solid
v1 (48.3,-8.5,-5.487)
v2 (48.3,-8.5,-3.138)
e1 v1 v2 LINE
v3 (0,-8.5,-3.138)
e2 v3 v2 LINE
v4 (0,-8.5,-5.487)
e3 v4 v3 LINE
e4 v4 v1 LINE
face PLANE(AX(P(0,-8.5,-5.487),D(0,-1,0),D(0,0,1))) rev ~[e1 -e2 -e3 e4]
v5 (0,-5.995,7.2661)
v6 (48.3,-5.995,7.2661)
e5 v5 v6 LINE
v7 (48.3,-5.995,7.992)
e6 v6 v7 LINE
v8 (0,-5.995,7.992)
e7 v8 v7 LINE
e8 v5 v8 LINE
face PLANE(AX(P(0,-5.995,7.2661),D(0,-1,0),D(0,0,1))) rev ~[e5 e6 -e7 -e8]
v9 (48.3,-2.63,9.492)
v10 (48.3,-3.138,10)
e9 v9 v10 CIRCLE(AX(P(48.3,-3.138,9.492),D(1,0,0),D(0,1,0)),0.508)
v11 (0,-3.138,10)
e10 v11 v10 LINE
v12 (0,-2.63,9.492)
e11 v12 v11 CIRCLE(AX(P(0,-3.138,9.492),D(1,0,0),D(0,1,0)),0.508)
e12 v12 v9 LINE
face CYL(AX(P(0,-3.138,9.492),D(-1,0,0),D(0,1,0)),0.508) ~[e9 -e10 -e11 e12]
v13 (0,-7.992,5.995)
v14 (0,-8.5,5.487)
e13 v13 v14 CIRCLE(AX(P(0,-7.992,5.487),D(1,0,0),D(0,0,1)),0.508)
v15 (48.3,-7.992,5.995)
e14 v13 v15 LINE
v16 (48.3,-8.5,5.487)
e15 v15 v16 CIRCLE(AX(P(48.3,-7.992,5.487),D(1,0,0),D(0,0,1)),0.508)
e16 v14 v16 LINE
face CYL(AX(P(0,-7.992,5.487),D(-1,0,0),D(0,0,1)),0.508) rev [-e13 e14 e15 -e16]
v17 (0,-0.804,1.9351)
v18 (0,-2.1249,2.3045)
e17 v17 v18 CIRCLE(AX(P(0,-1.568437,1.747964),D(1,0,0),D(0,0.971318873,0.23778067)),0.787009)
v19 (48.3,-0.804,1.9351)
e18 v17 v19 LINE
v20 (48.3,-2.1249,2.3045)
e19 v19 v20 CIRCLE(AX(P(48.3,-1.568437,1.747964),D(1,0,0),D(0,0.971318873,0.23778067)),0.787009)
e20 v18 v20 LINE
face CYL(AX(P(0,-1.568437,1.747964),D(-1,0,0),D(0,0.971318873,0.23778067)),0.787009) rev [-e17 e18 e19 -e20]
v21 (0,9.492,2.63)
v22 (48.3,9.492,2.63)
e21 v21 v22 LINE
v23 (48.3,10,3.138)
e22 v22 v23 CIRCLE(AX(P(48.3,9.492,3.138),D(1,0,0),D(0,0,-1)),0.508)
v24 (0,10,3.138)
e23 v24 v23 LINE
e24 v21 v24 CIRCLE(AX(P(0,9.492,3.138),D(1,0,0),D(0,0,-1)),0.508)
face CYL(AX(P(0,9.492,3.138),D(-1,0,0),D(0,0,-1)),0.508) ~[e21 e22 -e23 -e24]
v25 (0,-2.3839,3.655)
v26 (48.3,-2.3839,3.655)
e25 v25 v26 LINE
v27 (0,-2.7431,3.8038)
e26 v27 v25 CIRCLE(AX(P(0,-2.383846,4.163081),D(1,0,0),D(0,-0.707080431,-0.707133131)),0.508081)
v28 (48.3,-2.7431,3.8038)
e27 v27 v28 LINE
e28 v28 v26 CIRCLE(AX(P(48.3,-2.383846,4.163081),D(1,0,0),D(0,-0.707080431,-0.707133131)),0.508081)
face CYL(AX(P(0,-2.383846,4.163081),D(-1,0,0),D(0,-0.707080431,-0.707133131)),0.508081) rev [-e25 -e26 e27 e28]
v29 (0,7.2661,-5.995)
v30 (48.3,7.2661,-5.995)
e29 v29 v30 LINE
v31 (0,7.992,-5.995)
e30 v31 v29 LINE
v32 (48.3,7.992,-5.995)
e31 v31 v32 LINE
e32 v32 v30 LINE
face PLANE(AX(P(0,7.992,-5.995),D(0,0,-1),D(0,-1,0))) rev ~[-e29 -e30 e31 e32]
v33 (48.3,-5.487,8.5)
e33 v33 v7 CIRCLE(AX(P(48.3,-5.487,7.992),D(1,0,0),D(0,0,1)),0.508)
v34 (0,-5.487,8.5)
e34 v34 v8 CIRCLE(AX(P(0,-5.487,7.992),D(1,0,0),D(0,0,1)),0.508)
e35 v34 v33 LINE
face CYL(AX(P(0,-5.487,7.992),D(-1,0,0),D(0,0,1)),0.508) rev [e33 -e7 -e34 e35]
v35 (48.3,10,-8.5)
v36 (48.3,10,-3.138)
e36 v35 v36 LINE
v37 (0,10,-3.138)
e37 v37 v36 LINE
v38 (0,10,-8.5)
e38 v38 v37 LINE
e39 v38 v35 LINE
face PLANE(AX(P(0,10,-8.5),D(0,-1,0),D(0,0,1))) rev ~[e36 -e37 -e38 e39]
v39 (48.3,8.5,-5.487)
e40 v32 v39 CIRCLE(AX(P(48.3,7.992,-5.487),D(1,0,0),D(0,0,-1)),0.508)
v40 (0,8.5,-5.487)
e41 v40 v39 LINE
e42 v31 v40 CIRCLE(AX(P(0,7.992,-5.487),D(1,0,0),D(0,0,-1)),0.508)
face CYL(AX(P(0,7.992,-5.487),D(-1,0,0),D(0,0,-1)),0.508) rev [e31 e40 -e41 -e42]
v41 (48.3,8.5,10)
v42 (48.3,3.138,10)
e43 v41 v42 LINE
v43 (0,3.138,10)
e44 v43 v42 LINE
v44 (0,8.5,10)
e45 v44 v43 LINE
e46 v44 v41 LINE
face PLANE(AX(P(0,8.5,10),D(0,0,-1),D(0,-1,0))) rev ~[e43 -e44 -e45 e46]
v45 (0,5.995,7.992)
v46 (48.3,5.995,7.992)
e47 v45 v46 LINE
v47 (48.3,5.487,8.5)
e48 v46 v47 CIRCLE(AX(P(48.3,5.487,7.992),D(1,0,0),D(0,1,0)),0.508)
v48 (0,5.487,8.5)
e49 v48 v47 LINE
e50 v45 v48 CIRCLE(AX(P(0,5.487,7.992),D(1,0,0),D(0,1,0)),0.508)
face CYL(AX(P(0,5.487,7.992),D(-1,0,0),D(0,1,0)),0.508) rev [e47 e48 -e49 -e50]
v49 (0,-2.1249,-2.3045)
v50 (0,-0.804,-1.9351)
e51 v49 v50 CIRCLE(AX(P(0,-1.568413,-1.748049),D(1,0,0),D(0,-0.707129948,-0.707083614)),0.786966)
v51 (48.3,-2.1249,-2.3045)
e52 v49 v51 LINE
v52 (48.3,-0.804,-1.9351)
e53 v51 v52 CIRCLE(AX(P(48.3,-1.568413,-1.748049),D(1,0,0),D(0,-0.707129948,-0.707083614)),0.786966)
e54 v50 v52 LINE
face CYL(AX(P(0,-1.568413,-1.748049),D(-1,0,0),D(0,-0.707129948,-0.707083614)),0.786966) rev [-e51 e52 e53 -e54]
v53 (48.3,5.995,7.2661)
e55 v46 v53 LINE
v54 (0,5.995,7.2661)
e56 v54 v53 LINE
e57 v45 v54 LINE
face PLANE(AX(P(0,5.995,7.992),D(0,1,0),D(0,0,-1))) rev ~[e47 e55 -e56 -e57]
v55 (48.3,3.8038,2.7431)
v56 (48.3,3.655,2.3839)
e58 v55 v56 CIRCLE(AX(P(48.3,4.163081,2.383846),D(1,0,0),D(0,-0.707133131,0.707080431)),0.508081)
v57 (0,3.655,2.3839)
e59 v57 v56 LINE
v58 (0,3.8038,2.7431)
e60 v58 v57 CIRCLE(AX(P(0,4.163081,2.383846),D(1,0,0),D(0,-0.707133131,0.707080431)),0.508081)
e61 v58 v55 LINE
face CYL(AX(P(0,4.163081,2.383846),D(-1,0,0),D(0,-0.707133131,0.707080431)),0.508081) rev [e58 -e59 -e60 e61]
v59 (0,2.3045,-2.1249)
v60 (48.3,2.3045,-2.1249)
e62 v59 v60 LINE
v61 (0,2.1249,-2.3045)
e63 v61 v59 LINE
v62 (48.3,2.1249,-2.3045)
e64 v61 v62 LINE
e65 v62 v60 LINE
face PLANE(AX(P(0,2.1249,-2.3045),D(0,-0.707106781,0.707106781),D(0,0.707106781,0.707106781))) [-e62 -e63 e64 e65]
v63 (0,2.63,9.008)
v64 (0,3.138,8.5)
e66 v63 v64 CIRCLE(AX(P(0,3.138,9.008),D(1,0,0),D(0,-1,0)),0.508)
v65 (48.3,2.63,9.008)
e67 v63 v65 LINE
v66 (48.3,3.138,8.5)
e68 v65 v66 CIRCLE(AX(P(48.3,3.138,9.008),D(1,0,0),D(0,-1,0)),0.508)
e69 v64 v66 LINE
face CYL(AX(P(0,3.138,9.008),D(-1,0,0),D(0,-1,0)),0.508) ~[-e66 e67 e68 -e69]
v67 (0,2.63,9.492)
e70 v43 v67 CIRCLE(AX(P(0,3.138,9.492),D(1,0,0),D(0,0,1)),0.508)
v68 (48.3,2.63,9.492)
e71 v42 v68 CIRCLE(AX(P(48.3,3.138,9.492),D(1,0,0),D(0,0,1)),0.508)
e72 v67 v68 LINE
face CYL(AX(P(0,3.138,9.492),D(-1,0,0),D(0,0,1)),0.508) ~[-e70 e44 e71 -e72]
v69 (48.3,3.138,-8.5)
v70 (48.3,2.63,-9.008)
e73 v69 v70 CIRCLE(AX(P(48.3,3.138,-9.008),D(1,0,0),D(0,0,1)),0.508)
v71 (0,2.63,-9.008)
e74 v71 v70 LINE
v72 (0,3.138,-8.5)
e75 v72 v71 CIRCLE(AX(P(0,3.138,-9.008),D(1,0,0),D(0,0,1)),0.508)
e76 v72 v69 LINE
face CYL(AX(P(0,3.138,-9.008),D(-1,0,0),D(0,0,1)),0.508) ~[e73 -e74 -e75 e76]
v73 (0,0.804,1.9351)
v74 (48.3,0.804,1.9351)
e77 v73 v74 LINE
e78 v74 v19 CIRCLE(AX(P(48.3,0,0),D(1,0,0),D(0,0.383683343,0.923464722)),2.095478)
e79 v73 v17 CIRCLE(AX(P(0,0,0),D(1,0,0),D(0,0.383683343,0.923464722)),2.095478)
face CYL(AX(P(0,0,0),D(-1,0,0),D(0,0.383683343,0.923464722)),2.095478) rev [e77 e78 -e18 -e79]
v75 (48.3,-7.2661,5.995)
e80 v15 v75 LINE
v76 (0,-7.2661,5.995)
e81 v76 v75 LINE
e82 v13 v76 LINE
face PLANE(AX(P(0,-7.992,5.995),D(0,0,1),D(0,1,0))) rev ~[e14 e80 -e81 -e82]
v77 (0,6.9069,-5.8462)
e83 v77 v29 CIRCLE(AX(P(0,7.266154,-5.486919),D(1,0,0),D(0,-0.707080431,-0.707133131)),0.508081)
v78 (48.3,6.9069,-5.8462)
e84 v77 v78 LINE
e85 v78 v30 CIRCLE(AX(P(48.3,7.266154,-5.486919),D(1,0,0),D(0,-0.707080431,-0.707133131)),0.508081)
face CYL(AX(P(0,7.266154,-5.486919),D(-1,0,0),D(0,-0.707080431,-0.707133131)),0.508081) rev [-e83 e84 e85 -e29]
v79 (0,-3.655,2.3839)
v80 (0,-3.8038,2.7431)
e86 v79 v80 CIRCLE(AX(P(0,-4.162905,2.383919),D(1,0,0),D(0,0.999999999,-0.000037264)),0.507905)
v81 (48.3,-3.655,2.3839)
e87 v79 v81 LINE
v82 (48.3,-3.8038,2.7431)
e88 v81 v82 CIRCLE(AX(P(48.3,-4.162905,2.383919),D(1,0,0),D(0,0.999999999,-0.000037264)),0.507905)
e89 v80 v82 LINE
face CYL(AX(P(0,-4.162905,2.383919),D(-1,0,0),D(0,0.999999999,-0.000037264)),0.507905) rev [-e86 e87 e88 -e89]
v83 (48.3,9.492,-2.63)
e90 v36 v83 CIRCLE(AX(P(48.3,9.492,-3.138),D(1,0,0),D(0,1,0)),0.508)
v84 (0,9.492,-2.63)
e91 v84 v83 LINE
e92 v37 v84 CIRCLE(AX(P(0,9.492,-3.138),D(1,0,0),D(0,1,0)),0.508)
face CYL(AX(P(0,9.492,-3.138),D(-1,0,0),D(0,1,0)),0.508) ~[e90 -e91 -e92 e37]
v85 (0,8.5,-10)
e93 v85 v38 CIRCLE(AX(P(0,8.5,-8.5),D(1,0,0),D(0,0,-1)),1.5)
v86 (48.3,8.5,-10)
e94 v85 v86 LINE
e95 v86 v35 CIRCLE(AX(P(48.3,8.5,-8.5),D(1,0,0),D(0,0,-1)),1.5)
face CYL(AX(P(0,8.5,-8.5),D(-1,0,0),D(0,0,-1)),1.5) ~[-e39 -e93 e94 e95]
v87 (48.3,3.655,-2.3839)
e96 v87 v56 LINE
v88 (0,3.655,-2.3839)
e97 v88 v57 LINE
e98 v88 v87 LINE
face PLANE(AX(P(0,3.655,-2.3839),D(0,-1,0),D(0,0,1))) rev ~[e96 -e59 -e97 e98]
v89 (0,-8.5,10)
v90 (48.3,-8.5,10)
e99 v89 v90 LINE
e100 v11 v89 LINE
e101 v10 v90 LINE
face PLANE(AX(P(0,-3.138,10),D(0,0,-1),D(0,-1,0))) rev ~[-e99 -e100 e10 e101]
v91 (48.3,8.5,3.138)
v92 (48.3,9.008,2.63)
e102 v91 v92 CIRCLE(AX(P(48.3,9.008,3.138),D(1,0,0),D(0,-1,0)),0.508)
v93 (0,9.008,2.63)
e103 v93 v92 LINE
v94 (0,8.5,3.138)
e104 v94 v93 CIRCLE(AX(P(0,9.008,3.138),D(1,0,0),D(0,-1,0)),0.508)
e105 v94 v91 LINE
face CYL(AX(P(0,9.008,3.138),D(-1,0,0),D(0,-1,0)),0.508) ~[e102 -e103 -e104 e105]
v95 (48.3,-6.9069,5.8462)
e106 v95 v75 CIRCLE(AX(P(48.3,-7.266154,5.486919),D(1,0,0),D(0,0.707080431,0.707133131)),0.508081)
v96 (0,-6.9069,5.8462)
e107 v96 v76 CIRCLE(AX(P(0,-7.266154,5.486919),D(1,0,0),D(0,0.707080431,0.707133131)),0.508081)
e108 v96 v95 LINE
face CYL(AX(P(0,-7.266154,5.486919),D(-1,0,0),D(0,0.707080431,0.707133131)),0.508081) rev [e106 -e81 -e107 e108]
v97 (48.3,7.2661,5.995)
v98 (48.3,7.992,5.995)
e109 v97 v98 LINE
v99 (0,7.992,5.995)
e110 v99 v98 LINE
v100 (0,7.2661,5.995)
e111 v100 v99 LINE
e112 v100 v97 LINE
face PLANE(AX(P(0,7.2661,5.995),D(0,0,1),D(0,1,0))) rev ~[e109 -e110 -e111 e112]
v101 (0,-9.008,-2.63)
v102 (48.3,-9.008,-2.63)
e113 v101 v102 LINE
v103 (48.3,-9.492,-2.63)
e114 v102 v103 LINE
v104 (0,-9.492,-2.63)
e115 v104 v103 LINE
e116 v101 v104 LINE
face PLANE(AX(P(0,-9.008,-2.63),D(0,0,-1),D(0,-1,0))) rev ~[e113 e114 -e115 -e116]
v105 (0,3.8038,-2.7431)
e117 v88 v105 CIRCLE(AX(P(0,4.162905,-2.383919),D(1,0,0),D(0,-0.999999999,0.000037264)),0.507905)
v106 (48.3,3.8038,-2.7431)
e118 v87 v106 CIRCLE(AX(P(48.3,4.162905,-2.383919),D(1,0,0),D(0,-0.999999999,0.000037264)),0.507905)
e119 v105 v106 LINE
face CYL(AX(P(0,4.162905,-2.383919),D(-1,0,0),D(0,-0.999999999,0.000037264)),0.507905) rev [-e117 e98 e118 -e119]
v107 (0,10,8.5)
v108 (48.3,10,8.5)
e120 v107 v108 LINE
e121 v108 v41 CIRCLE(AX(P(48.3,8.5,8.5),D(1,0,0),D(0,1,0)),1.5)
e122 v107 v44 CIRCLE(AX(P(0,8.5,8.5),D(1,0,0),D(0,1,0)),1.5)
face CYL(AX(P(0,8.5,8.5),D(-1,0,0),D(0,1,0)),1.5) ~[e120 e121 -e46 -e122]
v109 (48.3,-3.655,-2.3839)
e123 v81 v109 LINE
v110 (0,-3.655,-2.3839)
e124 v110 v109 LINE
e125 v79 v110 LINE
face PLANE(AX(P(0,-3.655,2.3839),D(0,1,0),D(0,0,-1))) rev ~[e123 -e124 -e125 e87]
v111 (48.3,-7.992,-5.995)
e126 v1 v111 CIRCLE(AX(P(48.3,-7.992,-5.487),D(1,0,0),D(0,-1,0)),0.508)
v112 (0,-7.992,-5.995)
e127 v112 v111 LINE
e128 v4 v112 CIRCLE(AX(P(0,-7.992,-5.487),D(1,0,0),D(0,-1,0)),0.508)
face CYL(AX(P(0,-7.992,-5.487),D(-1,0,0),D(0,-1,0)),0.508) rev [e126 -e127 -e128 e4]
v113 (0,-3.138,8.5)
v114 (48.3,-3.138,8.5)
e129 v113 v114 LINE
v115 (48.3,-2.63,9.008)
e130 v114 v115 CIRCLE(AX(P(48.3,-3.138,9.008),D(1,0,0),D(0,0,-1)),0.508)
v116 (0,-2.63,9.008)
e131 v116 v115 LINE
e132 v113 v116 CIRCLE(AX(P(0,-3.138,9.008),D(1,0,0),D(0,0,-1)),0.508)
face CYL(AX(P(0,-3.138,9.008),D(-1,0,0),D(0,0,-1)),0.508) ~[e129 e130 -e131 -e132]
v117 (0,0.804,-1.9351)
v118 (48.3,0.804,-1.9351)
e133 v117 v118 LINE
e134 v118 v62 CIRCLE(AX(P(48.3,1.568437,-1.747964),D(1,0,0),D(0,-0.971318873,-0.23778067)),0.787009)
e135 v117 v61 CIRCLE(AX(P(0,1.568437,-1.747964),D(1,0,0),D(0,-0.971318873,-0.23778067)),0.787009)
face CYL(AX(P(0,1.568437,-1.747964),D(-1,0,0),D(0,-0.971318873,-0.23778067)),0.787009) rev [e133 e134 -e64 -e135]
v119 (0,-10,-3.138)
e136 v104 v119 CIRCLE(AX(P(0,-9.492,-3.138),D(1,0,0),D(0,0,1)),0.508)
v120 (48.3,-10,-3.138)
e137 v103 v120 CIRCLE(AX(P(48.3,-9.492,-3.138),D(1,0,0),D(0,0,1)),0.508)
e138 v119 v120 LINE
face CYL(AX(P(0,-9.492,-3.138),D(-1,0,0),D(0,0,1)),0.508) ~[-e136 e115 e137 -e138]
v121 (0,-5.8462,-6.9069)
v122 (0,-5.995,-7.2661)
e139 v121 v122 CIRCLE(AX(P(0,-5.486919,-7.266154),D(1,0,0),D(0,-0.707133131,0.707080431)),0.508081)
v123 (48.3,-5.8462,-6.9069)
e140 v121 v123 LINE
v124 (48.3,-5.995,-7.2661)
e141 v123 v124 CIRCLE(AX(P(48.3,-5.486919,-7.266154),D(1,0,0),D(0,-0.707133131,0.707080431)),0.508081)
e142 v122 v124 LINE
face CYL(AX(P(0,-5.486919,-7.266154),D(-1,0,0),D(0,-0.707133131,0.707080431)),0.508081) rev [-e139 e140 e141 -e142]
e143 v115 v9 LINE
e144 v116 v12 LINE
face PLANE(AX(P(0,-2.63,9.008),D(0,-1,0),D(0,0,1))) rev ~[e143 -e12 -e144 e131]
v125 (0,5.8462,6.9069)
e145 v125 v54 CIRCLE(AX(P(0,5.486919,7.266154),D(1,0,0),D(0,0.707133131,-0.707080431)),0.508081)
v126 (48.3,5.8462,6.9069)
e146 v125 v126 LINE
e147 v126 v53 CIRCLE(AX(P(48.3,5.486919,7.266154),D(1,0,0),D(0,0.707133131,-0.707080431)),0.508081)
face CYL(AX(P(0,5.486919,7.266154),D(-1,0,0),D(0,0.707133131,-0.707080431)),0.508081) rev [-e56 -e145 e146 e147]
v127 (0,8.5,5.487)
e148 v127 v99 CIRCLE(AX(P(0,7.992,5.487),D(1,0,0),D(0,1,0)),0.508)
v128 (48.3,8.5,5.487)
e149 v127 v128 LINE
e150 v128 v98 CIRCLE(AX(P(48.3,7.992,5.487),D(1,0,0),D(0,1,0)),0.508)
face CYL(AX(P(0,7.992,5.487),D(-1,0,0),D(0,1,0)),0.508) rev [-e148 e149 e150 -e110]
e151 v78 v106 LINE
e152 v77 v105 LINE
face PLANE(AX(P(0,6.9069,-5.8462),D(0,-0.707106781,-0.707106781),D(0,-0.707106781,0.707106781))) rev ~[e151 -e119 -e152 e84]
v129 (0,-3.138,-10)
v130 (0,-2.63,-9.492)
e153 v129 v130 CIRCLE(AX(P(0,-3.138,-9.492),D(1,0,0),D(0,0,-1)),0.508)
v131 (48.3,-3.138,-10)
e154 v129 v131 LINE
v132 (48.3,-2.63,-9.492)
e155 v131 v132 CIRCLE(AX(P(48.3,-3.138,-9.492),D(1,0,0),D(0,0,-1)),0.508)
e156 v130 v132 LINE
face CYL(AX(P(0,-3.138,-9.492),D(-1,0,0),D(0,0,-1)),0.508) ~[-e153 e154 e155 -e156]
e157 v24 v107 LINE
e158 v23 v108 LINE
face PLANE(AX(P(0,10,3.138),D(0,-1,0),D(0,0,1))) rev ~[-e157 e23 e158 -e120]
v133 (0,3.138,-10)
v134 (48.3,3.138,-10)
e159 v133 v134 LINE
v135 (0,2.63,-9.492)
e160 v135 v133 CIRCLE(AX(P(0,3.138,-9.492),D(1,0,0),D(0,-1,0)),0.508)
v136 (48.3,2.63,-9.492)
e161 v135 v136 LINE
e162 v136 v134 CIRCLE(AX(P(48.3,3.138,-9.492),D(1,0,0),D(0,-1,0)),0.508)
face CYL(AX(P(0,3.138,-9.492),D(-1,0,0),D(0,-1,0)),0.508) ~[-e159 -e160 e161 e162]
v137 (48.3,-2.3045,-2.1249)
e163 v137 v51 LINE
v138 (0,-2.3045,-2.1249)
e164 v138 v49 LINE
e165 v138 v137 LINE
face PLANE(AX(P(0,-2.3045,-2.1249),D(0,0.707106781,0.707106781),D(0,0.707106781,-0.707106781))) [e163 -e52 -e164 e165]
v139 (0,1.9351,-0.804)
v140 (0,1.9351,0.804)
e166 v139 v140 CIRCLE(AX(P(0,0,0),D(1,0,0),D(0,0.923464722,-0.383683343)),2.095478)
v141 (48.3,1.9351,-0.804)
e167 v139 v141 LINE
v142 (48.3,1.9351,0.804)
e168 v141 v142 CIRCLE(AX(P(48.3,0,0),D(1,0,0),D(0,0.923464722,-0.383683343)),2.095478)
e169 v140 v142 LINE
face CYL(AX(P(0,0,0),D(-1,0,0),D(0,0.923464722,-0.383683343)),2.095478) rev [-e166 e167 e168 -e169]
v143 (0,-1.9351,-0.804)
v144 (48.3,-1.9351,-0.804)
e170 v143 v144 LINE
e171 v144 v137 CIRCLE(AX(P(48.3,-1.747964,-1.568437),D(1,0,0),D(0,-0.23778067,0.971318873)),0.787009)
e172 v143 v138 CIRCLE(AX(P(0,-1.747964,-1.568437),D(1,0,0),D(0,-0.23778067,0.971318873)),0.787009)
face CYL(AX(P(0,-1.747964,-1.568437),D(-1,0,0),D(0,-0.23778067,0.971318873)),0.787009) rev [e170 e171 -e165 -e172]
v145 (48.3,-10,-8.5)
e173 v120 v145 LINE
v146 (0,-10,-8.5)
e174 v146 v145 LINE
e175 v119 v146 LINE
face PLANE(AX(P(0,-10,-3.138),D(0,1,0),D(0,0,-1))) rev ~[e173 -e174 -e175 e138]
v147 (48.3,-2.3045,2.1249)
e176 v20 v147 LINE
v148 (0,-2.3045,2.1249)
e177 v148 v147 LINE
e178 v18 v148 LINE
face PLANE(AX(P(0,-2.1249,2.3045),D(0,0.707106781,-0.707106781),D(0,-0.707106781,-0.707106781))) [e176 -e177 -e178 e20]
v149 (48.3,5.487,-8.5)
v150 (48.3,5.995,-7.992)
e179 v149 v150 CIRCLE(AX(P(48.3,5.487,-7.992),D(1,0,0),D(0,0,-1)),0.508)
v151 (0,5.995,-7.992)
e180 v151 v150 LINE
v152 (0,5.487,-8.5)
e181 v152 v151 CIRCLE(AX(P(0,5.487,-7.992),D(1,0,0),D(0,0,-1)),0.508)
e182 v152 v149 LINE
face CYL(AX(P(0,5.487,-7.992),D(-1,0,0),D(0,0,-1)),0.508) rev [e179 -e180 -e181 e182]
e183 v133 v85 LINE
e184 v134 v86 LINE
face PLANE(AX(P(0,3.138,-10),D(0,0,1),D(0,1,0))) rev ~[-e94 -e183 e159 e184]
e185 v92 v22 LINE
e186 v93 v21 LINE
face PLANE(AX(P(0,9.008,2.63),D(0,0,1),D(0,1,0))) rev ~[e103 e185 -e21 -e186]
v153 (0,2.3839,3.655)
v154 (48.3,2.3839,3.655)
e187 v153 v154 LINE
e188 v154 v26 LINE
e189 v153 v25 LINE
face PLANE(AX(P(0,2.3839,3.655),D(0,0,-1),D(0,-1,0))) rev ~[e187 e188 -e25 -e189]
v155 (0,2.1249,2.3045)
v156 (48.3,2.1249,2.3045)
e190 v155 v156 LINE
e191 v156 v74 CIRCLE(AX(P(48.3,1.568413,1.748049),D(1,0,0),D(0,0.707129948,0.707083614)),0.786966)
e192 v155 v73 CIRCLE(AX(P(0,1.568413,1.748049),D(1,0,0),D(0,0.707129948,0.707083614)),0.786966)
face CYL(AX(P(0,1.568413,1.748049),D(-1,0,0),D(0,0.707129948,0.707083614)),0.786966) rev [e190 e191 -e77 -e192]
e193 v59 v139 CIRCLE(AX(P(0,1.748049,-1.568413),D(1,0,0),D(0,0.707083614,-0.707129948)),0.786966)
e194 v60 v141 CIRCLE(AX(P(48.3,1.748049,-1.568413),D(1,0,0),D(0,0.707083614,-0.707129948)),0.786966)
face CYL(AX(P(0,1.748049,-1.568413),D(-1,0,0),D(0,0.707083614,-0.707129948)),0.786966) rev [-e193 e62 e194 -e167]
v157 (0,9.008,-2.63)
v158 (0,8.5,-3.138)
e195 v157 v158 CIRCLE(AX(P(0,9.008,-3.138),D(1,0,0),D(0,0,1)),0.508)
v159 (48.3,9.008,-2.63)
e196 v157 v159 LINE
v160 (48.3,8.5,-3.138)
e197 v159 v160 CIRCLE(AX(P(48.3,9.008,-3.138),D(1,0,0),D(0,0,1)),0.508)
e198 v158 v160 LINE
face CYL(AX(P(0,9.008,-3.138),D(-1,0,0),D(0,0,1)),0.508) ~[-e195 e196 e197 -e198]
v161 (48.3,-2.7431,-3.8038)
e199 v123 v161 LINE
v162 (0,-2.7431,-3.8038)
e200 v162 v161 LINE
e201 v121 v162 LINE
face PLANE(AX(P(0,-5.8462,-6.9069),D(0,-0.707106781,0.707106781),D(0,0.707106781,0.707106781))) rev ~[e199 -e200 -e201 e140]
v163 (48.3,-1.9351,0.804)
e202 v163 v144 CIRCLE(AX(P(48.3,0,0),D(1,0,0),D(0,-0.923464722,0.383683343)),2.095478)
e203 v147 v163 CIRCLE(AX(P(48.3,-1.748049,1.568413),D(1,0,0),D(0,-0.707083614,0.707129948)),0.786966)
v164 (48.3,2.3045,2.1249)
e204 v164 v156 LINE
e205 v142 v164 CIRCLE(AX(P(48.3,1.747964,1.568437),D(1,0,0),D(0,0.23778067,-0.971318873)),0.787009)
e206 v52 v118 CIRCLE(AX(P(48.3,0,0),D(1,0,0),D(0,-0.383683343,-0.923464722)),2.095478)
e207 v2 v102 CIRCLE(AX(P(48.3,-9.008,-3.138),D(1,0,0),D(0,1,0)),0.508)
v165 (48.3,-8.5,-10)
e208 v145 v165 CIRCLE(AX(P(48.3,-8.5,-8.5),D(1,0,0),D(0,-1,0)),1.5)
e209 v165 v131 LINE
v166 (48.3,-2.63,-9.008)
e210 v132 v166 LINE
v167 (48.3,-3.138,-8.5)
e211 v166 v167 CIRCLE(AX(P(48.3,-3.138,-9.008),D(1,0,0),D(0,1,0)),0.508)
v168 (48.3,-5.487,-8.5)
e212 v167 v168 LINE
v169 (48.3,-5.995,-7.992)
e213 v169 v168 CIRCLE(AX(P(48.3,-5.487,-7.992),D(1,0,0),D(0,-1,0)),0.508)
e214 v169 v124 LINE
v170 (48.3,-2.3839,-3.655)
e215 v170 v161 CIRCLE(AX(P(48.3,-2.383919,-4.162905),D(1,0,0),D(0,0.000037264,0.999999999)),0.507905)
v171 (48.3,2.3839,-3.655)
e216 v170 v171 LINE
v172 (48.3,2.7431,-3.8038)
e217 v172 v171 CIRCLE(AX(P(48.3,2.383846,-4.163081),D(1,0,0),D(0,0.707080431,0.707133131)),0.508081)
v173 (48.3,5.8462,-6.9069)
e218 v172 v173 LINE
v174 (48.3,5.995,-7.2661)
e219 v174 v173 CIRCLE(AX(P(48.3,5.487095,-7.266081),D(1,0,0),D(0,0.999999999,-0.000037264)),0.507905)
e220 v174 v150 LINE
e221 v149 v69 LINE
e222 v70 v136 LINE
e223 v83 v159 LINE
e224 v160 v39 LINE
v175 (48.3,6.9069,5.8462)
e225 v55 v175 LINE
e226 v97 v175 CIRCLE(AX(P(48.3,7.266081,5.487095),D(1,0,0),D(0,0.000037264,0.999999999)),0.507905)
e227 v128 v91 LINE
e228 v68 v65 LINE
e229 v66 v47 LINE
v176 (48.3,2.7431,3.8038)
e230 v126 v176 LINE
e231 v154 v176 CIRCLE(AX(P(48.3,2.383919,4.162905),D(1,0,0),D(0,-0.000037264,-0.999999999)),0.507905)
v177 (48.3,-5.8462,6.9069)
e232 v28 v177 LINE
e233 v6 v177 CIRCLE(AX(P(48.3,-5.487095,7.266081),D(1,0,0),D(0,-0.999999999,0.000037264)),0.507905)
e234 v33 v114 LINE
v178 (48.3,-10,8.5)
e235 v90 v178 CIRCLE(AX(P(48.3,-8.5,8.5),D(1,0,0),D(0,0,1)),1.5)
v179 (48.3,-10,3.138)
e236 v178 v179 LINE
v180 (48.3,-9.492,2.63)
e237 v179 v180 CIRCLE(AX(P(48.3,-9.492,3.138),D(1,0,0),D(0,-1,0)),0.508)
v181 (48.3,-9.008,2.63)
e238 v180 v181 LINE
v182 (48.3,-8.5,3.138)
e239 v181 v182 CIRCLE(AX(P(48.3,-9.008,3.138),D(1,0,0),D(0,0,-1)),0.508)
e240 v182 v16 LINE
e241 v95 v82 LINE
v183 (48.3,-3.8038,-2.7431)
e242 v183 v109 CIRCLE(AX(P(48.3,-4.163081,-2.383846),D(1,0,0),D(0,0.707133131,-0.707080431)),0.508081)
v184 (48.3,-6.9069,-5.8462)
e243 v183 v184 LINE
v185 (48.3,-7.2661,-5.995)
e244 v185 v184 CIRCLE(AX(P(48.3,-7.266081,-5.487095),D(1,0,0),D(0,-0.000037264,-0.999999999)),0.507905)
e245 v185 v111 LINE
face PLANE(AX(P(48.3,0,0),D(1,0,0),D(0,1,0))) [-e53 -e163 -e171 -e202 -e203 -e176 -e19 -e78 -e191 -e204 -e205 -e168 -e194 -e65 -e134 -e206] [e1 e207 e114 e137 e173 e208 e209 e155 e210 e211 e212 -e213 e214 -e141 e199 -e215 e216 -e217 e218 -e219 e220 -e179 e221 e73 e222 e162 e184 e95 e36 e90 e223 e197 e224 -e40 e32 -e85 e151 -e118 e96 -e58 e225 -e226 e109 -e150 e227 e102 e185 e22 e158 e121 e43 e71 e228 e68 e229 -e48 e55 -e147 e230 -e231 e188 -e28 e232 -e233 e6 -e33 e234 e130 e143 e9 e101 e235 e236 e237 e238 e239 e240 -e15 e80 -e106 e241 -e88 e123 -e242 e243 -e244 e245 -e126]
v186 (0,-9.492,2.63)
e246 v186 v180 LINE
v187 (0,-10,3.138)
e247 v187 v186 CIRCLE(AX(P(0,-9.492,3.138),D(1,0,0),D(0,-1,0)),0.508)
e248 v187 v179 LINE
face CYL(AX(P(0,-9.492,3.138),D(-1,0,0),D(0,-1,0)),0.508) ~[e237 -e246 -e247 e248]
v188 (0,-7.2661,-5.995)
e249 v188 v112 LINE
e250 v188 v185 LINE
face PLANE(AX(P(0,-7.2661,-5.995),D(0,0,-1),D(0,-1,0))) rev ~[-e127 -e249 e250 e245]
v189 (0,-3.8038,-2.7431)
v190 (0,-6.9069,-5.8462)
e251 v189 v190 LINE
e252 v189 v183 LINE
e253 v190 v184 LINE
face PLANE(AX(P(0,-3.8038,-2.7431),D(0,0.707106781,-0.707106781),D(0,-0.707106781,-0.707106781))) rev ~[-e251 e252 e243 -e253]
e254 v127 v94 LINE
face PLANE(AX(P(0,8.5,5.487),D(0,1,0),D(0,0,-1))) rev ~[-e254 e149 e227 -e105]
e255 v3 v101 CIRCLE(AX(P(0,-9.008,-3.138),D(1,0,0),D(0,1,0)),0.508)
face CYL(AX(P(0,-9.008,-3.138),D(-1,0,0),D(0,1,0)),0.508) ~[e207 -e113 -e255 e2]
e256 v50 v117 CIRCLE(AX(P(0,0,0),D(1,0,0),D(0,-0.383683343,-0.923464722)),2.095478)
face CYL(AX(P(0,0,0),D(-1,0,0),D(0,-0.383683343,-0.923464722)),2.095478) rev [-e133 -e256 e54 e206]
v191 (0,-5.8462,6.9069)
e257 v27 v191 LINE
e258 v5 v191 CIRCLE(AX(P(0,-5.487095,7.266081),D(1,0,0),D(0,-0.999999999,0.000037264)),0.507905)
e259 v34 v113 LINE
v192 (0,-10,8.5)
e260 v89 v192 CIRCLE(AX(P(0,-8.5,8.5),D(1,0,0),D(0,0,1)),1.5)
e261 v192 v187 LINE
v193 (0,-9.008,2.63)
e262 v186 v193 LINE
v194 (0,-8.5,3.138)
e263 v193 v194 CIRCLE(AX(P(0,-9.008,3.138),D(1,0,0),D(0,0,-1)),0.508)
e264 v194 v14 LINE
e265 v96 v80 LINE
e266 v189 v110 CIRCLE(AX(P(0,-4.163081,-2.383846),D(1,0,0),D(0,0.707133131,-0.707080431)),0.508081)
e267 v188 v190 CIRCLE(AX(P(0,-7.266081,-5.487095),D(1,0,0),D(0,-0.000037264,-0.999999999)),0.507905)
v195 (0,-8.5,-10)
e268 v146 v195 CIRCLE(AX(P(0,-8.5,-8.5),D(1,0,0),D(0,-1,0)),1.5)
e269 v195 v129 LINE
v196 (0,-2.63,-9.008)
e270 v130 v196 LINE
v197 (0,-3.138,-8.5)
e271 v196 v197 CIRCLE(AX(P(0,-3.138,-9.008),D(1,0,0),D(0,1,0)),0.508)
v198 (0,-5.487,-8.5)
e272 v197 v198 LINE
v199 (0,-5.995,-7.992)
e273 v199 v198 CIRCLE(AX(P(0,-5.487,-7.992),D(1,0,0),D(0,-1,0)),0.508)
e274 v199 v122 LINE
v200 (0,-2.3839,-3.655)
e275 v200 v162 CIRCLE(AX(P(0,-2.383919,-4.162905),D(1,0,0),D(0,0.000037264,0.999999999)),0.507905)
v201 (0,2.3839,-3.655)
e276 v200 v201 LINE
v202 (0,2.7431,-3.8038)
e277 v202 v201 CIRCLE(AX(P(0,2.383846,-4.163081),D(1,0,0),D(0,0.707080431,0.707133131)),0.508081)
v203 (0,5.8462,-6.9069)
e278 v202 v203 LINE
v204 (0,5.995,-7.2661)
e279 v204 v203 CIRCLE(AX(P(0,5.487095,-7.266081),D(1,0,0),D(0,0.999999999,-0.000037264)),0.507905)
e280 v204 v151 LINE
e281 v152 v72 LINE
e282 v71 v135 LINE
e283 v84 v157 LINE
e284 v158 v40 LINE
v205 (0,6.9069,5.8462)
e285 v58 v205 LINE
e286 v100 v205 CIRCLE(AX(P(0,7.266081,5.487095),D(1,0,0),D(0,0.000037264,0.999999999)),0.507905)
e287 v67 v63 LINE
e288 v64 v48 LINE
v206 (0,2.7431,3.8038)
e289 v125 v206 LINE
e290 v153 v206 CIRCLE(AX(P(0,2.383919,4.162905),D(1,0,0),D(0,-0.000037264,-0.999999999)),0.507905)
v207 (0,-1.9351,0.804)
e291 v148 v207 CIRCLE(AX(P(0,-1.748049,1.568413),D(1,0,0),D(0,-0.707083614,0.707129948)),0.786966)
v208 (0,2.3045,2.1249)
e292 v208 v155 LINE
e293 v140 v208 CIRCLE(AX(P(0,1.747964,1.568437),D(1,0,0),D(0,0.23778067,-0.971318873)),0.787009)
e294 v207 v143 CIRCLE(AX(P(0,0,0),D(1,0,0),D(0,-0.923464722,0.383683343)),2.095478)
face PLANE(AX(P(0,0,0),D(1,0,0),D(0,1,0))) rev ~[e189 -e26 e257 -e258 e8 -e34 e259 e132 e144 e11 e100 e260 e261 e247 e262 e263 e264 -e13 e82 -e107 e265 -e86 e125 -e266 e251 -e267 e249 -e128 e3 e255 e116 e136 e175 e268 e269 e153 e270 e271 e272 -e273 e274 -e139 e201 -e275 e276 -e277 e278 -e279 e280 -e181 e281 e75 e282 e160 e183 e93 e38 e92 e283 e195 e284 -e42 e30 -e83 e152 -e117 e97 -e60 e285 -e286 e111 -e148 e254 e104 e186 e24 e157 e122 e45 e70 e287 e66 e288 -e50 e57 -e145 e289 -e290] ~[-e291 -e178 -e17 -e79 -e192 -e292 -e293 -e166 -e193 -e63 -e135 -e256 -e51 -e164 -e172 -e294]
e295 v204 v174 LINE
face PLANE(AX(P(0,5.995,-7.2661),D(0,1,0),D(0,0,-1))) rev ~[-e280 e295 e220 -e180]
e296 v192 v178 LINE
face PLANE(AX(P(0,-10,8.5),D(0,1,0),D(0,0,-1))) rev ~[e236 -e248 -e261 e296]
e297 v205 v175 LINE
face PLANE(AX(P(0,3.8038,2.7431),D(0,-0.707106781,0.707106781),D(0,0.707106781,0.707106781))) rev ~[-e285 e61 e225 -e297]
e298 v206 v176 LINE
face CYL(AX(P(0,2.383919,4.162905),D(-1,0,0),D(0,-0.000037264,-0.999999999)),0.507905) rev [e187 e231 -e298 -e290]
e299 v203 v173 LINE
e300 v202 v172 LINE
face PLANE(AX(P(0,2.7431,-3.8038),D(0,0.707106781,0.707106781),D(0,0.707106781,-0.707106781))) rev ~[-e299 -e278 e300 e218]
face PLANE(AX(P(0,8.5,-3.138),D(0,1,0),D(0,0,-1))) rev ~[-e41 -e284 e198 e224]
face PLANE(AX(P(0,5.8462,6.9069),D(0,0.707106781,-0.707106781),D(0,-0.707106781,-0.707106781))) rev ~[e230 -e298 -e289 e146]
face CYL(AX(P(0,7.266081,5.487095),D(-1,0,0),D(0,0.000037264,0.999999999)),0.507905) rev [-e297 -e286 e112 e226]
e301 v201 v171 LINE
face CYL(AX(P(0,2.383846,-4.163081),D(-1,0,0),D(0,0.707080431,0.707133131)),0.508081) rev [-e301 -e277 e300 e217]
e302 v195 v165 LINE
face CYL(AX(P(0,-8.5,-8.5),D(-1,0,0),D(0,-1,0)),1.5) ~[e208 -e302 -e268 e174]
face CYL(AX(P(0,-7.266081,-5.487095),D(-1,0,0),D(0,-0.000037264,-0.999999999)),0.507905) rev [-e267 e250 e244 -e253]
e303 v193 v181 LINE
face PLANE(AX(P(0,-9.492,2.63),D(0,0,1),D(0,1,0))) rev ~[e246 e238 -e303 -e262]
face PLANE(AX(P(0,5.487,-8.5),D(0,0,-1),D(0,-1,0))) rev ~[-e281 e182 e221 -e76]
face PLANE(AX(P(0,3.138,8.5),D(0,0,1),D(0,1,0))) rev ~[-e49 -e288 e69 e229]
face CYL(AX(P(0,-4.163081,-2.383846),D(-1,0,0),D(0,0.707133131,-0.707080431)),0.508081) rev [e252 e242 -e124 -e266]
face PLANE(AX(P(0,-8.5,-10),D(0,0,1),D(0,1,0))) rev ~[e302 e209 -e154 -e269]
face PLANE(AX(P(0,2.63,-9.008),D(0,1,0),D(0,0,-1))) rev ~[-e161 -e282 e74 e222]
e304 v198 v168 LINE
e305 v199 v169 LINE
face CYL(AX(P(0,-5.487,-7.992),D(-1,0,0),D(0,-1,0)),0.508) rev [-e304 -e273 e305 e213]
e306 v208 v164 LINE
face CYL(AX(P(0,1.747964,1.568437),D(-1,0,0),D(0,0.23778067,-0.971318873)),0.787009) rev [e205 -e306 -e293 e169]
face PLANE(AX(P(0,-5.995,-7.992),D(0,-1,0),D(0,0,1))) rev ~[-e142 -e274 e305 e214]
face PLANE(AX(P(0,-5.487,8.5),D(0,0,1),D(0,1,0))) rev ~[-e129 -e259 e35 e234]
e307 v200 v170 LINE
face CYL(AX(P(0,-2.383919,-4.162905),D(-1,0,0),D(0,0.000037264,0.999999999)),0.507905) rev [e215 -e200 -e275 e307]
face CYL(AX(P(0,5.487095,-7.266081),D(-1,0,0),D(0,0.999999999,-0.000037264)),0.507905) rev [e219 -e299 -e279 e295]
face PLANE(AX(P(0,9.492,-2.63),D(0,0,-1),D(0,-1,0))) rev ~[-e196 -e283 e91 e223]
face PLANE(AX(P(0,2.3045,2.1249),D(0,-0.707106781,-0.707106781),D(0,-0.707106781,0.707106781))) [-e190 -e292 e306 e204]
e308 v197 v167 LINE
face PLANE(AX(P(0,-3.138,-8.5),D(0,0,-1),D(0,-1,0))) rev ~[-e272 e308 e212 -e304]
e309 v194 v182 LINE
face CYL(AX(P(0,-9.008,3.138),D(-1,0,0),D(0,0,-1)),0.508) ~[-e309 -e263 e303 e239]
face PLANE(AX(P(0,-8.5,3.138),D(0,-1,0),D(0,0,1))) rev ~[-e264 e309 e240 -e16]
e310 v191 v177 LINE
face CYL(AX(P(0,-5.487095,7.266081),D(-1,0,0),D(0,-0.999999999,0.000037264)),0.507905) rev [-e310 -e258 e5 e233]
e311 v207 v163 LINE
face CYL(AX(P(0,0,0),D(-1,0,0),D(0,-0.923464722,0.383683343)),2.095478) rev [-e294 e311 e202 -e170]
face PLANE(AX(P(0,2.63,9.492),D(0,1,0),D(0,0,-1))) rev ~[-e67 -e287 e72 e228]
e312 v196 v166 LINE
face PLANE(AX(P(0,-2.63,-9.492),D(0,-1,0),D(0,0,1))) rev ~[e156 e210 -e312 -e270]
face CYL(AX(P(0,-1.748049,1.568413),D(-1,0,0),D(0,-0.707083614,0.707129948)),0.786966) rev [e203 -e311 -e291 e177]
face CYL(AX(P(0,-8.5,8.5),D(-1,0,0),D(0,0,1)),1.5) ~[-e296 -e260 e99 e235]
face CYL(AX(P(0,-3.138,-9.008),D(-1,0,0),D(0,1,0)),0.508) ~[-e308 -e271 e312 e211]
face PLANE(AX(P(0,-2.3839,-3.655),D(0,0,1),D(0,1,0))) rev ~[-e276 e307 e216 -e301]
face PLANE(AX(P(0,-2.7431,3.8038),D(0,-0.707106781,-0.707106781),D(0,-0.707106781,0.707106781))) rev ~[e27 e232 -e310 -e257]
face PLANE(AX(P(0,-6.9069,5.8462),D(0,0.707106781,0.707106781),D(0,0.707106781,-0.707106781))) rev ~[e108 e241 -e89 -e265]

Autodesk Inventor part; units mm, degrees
ref_plane "YZ Plane" through (0, 0, 0) normal (1, 0, 0) x (0, 1, 0)
ref_plane "XZ Plane" through (0, 0, 0) normal (0, 1, 0) x (-1, 0, 0)
ref_plane "XY Plane" through (0, 0, 0) normal (0, 0, 1) x (1, 0, 0)
sketch "Sketch1" plane through (0, 0, 0) normal (1, 0, 0) x (0, 1, 0)
  arc A0 (0.804, -1.9351) -> (2.1249, -2.3045) centre (1.5684, -1.748) ccw
  line L0 (2.1249, -2.3045) -> (2.3045, -2.1249)
  arc A1 (2.3045, -2.1249) -> (1.9351, -0.804) centre (1.748, -1.5684) ccw
  arc A2 (1.9351, -0.804) -> (1.9351, 0.804) centre (0, 0) ccw
  arc A3 (1.9351, 0.804) -> (2.3045, 2.1249) centre (1.748, 1.5684) ccw
  line L1 (2.3045, 2.1249) -> (2.1249, 2.3045)
  arc A4 (2.1249, 2.3045) -> (0.804, 1.9351) centre (1.5684, 1.748) ccw
  arc A5 (0.804, 1.9351) -> (-0.804, 1.9351) centre (0, 0) ccw
  arc A6 (-0.804, 1.9351) -> (-2.1249, 2.3045) centre (-1.5684, 1.748) ccw
  line L2 (-2.1249, 2.3045) -> (-2.3045, 2.1249)
  arc A7 (-2.3045, 2.1249) -> (-1.9351, 0.804) centre (-1.748, 1.5684) ccw
  arc A8 (-1.9351, 0.804) -> (-1.9351, -0.804) centre (0, 0) ccw
  arc A9 (-1.9351, -0.804) -> (-2.3045, -2.1249) centre (-1.748, -1.5684) ccw
  line L3 (-2.3045, -2.1249) -> (-2.1249, -2.3045)
  arc A10 (-2.1249, -2.3045) -> (-0.804, -1.9351) centre (-1.5684, -1.748) ccw
  arc A11 (-0.804, -1.9351) -> (0.804, -1.9351) centre (0, 0) ccw
  line L4 (9.008, 2.63) -> (9.492, 2.63)
  arc A12 (8.5, 3.138) -> (9.008, 2.63) centre (9.008, 3.138) ccw
  line L5 (8.5, 5.487) -> (8.5, 3.138)
  arc A13 (8.5, 5.487) -> (7.992, 5.995) centre (7.992, 5.487) ccw
  line L6 (7.2661, 5.995) -> (7.992, 5.995)
  arc A14 (7.2661, 5.995) -> (6.9069, 5.8462) centre (7.2661, 5.487) ccw
  line L7 (3.8038, 2.7431) -> (6.9069, 5.8462)
  arc A15 (3.8038, 2.7431) -> (3.655, 2.3839) centre (4.163, 2.3839) ccw
  line L8 (3.655, -2.3839) -> (3.655, 2.3839)
  arc A16 (3.655, -2.3839) -> (3.8038, -2.7431) centre (4.163, -2.3839) ccw
  line L9 (6.9069, -5.8462) -> (3.8038, -2.7431)
  arc A17 (6.9069, -5.8462) -> (7.2661, -5.995) centre (7.2661, -5.487) ccw
  line L10 (7.992, -5.995) -> (7.2661, -5.995)
  arc A18 (7.992, -5.995) -> (8.5, -5.487) centre (7.992, -5.487) ccw
  line L11 (8.5, -3.138) -> (8.5, -5.487)
  arc A19 (9.008, -2.63) -> (8.5, -3.138) centre (9.008, -3.138) ccw
  line L12 (9.492, -2.63) -> (9.008, -2.63)
  arc A20 (10, -3.138) -> (9.492, -2.63) centre (9.492, -3.138) ccw
  line L13 (10, -8.5) -> (10, -3.138)
  arc A21 (8.5, -10) -> (10, -8.5) centre (8.5, -8.5) ccw
  line L14 (3.138, -10) -> (8.5, -10)
  arc A22 (2.63, -9.492) -> (3.138, -10) centre (3.138, -9.492) ccw
  line L15 (2.63, -9.008) -> (2.63, -9.492)
  arc A23 (3.138, -8.5) -> (2.63, -9.008) centre (3.138, -9.008) ccw
  line L16 (5.487, -8.5) -> (3.138, -8.5)
  arc A24 (5.487, -8.5) -> (5.995, -7.992) centre (5.487, -7.992) ccw
  line L17 (5.995, -7.2661) -> (5.995, -7.992)
  arc A25 (5.995, -7.2661) -> (5.8462, -6.9069) centre (5.487, -7.2661) ccw
  line L18 (2.7431, -3.8038) -> (5.8462, -6.9069)
  arc A26 (2.7431, -3.8038) -> (2.3839, -3.655) centre (2.3839, -4.163) ccw
  line L19 (-2.3839, -3.655) -> (2.3839, -3.655)
  arc A27 (-2.3839, -3.655) -> (-2.7431, -3.8038) centre (-2.3839, -4.163) ccw
  line L20 (-5.8462, -6.9069) -> (-2.7431, -3.8038)
  arc A28 (-5.8462, -6.9069) -> (-5.995, -7.2661) centre (-5.487, -7.2661) ccw
  line L21 (-5.995, -7.992) -> (-5.995, -7.2661)
  arc A29 (-5.995, -7.992) -> (-5.487, -8.5) centre (-5.487, -7.992) ccw
  line L22 (-3.138, -8.5) -> (-5.487, -8.5)
  arc A30 (-2.63, -9.008) -> (-3.138, -8.5) centre (-3.138, -9.008) ccw
  line L23 (-2.63, -9.492) -> (-2.63, -9.008)
  arc A31 (-3.138, -10) -> (-2.63, -9.492) centre (-3.138, -9.492) ccw
  line L24 (-8.5, -10) -> (-3.138, -10)
  arc A32 (-10, -8.5) -> (-8.5, -10) centre (-8.5, -8.5) ccw
  line L25 (-10, -3.138) -> (-10, -8.5)
  arc A33 (-9.492, -2.63) -> (-10, -3.138) centre (-9.492, -3.138) ccw
  line L26 (-9.008, -2.63) -> (-9.492, -2.63)
  arc A34 (-8.5, -3.138) -> (-9.008, -2.63) centre (-9.008, -3.138) ccw
  line L27 (-8.5, -5.487) -> (-8.5, -3.138)
  arc A35 (-8.5, -5.487) -> (-7.992, -5.995) centre (-7.992, -5.487) ccw
  line L28 (-7.2661, -5.995) -> (-7.992, -5.995)
  arc A36 (-7.2661, -5.995) -> (-6.9069, -5.8462) centre (-7.2661, -5.487) ccw
  line L29 (-3.8038, -2.7431) -> (-6.9069, -5.8462)
  arc A37 (-3.8038, -2.7431) -> (-3.655, -2.3839) centre (-4.163, -2.3839) ccw
  line L30 (-3.655, 2.3839) -> (-3.655, -2.3839)
  arc A38 (-3.655, 2.3839) -> (-3.8038, 2.7431) centre (-4.163, 2.3839) ccw
  line L31 (-6.9069, 5.8462) -> (-3.8038, 2.7431)
  arc A39 (-6.9069, 5.8462) -> (-7.2661, 5.995) centre (-7.2661, 5.487) ccw
  line L32 (-7.992, 5.995) -> (-7.2661, 5.995)
  arc A40 (-7.992, 5.995) -> (-8.5, 5.487) centre (-7.992, 5.487) ccw
  line L33 (-8.5, 3.138) -> (-8.5, 5.487)
  arc A41 (-9.008, 2.63) -> (-8.5, 3.138) centre (-9.008, 3.138) ccw
  line L34 (-9.492, 2.63) -> (-9.008, 2.63)
  arc A42 (-10, 3.138) -> (-9.492, 2.63) centre (-9.492, 3.138) ccw
  line L35 (-10, 8.5) -> (-10, 3.138)
  arc A43 (-8.5, 10) -> (-10, 8.5) centre (-8.5, 8.5) ccw
  line L36 (-3.138, 10) -> (-8.5, 10)
  arc A44 (-2.63, 9.492) -> (-3.138, 10) centre (-3.138, 9.492) ccw
  line L37 (-2.63, 9.008) -> (-2.63, 9.492)
  arc A45 (-3.138, 8.5) -> (-2.63, 9.008) centre (-3.138, 9.008) ccw
  line L38 (-5.487, 8.5) -> (-3.138, 8.5)
  arc A46 (-5.487, 8.5) -> (-5.995, 7.992) centre (-5.487, 7.992) ccw
  line L39 (-5.995, 7.2661) -> (-5.995, 7.992)
  arc A47 (-5.995, 7.2661) -> (-5.8462, 6.9069) centre (-5.487, 7.2661) ccw
  line L40 (-2.7431, 3.8038) -> (-5.8462, 6.9069)
  arc A48 (-2.7431, 3.8038) -> (-2.3839, 3.655) centre (-2.3839, 4.163) ccw
  line L41 (2.3839, 3.655) -> (-2.3839, 3.655)
  arc A49 (2.3839, 3.655) -> (2.7431, 3.8038) centre (2.3839, 4.163) ccw
  line L42 (5.8462, 6.9069) -> (2.7431, 3.8038)
  arc A50 (5.8462, 6.9069) -> (5.995, 7.2661) centre (5.487, 7.2661) ccw
  line L43 (5.995, 7.992) -> (5.995, 7.2661)
  arc A51 (5.995, 7.992) -> (5.487, 8.5) centre (5.487, 7.992) ccw
  line L44 (3.138, 8.5) -> (5.487, 8.5)
  arc A52 (2.63, 9.008) -> (3.138, 8.5) centre (3.138, 9.008) ccw
  line L45 (2.63, 9.492) -> (2.63, 9.008)
  arc A53 (3.138, 10) -> (2.63, 9.492) centre (3.138, 9.492) ccw
  line L46 (8.5, 10) -> (3.138, 10)
  arc A54 (10, 8.5) -> (8.5, 10) centre (8.5, 8.5) ccw
  line L47 (10, 3.138) -> (10, 8.5)
  arc A55 (9.492, 2.63) -> (10, 3.138) centre (9.492, 3.138) ccw
  point P0 (0.804, -1.9351)
  point P1 (-0.804, -1.9351)
  point P2 (-2.3045, -2.1249)
  point P3 (-1.9351, -0.804)
  point P4 (-1.9351, 0.804)
  point P5 (-2.1249, 2.3045)
  point P6 (-0.804, 1.9351)
  point P7 (0.804, 1.9351)
  point P8 (2.3045, 2.1249)
  point P9 (1.9351, 0.804)
  point P10 (1.9351, -0.804)
  point P11 (2.1249, -2.3045)
  point P12 (8.5, 3.138)
  point P13 (10, 8.5)
  point P14 (3.138, 10)
  point P15 (2.63, 9.008)
  point P16 (5.487, 8.5)
  point P17 (5.995, 7.2661)
  point P18 (2.7431, 3.8038)
  point P19 (-2.3839, 3.655)
  point P20 (-5.8462, 6.9069)
  point P21 (-5.995, 7.992)
  point P22 (-3.138, 8.5)
  point P23 (-2.63, 9.492)
  point P24 (-8.5, 10)
  point P25 (-10, 3.138)
  point P26 (-9.008, 2.63)
  point P27 (-8.5, 5.487)
  point P28 (-7.2661, 5.995)
  point P29 (-3.8038, 2.7431)
  point P30 (-3.655, -2.3839)
  point P31 (-6.9069, -5.8462)
  point P32 (-7.992, -5.995)
  point P33 (-8.5, -3.138)
  point P34 (-9.492, -2.63)
  point P35 (-10, -8.5)
  point P36 (-3.138, -10)
  point P37 (-2.63, -9.008)
  point P38 (-5.487, -8.5)
  point P39 (-5.995, -7.2661)
  point P40 (-2.7431, -3.8038)
  point P41 (2.3839, -3.655)
  point P42 (5.8462, -6.9069)
  point P43 (5.995, -7.992)
  point P44 (3.138, -8.5)
  point P45 (2.63, -9.492)
  point P46 (8.5, -10)
  point P47 (10, -3.138)
  point P48 (9.008, -2.63)
  point P49 (8.5, -5.487)
  point P50 (7.2661, -5.995)
  point P51 (3.8038, -2.7431)
  point P52 (3.655, 2.3839)
  point P53 (6.9069, 5.8462)
  point P54 (7.992, 5.995)
extrude "Extrusion1" add sketch "Sketch1" along normal blind 48.3
properties part number "2020_4x2020_ve" material "Aluminum 6061"
